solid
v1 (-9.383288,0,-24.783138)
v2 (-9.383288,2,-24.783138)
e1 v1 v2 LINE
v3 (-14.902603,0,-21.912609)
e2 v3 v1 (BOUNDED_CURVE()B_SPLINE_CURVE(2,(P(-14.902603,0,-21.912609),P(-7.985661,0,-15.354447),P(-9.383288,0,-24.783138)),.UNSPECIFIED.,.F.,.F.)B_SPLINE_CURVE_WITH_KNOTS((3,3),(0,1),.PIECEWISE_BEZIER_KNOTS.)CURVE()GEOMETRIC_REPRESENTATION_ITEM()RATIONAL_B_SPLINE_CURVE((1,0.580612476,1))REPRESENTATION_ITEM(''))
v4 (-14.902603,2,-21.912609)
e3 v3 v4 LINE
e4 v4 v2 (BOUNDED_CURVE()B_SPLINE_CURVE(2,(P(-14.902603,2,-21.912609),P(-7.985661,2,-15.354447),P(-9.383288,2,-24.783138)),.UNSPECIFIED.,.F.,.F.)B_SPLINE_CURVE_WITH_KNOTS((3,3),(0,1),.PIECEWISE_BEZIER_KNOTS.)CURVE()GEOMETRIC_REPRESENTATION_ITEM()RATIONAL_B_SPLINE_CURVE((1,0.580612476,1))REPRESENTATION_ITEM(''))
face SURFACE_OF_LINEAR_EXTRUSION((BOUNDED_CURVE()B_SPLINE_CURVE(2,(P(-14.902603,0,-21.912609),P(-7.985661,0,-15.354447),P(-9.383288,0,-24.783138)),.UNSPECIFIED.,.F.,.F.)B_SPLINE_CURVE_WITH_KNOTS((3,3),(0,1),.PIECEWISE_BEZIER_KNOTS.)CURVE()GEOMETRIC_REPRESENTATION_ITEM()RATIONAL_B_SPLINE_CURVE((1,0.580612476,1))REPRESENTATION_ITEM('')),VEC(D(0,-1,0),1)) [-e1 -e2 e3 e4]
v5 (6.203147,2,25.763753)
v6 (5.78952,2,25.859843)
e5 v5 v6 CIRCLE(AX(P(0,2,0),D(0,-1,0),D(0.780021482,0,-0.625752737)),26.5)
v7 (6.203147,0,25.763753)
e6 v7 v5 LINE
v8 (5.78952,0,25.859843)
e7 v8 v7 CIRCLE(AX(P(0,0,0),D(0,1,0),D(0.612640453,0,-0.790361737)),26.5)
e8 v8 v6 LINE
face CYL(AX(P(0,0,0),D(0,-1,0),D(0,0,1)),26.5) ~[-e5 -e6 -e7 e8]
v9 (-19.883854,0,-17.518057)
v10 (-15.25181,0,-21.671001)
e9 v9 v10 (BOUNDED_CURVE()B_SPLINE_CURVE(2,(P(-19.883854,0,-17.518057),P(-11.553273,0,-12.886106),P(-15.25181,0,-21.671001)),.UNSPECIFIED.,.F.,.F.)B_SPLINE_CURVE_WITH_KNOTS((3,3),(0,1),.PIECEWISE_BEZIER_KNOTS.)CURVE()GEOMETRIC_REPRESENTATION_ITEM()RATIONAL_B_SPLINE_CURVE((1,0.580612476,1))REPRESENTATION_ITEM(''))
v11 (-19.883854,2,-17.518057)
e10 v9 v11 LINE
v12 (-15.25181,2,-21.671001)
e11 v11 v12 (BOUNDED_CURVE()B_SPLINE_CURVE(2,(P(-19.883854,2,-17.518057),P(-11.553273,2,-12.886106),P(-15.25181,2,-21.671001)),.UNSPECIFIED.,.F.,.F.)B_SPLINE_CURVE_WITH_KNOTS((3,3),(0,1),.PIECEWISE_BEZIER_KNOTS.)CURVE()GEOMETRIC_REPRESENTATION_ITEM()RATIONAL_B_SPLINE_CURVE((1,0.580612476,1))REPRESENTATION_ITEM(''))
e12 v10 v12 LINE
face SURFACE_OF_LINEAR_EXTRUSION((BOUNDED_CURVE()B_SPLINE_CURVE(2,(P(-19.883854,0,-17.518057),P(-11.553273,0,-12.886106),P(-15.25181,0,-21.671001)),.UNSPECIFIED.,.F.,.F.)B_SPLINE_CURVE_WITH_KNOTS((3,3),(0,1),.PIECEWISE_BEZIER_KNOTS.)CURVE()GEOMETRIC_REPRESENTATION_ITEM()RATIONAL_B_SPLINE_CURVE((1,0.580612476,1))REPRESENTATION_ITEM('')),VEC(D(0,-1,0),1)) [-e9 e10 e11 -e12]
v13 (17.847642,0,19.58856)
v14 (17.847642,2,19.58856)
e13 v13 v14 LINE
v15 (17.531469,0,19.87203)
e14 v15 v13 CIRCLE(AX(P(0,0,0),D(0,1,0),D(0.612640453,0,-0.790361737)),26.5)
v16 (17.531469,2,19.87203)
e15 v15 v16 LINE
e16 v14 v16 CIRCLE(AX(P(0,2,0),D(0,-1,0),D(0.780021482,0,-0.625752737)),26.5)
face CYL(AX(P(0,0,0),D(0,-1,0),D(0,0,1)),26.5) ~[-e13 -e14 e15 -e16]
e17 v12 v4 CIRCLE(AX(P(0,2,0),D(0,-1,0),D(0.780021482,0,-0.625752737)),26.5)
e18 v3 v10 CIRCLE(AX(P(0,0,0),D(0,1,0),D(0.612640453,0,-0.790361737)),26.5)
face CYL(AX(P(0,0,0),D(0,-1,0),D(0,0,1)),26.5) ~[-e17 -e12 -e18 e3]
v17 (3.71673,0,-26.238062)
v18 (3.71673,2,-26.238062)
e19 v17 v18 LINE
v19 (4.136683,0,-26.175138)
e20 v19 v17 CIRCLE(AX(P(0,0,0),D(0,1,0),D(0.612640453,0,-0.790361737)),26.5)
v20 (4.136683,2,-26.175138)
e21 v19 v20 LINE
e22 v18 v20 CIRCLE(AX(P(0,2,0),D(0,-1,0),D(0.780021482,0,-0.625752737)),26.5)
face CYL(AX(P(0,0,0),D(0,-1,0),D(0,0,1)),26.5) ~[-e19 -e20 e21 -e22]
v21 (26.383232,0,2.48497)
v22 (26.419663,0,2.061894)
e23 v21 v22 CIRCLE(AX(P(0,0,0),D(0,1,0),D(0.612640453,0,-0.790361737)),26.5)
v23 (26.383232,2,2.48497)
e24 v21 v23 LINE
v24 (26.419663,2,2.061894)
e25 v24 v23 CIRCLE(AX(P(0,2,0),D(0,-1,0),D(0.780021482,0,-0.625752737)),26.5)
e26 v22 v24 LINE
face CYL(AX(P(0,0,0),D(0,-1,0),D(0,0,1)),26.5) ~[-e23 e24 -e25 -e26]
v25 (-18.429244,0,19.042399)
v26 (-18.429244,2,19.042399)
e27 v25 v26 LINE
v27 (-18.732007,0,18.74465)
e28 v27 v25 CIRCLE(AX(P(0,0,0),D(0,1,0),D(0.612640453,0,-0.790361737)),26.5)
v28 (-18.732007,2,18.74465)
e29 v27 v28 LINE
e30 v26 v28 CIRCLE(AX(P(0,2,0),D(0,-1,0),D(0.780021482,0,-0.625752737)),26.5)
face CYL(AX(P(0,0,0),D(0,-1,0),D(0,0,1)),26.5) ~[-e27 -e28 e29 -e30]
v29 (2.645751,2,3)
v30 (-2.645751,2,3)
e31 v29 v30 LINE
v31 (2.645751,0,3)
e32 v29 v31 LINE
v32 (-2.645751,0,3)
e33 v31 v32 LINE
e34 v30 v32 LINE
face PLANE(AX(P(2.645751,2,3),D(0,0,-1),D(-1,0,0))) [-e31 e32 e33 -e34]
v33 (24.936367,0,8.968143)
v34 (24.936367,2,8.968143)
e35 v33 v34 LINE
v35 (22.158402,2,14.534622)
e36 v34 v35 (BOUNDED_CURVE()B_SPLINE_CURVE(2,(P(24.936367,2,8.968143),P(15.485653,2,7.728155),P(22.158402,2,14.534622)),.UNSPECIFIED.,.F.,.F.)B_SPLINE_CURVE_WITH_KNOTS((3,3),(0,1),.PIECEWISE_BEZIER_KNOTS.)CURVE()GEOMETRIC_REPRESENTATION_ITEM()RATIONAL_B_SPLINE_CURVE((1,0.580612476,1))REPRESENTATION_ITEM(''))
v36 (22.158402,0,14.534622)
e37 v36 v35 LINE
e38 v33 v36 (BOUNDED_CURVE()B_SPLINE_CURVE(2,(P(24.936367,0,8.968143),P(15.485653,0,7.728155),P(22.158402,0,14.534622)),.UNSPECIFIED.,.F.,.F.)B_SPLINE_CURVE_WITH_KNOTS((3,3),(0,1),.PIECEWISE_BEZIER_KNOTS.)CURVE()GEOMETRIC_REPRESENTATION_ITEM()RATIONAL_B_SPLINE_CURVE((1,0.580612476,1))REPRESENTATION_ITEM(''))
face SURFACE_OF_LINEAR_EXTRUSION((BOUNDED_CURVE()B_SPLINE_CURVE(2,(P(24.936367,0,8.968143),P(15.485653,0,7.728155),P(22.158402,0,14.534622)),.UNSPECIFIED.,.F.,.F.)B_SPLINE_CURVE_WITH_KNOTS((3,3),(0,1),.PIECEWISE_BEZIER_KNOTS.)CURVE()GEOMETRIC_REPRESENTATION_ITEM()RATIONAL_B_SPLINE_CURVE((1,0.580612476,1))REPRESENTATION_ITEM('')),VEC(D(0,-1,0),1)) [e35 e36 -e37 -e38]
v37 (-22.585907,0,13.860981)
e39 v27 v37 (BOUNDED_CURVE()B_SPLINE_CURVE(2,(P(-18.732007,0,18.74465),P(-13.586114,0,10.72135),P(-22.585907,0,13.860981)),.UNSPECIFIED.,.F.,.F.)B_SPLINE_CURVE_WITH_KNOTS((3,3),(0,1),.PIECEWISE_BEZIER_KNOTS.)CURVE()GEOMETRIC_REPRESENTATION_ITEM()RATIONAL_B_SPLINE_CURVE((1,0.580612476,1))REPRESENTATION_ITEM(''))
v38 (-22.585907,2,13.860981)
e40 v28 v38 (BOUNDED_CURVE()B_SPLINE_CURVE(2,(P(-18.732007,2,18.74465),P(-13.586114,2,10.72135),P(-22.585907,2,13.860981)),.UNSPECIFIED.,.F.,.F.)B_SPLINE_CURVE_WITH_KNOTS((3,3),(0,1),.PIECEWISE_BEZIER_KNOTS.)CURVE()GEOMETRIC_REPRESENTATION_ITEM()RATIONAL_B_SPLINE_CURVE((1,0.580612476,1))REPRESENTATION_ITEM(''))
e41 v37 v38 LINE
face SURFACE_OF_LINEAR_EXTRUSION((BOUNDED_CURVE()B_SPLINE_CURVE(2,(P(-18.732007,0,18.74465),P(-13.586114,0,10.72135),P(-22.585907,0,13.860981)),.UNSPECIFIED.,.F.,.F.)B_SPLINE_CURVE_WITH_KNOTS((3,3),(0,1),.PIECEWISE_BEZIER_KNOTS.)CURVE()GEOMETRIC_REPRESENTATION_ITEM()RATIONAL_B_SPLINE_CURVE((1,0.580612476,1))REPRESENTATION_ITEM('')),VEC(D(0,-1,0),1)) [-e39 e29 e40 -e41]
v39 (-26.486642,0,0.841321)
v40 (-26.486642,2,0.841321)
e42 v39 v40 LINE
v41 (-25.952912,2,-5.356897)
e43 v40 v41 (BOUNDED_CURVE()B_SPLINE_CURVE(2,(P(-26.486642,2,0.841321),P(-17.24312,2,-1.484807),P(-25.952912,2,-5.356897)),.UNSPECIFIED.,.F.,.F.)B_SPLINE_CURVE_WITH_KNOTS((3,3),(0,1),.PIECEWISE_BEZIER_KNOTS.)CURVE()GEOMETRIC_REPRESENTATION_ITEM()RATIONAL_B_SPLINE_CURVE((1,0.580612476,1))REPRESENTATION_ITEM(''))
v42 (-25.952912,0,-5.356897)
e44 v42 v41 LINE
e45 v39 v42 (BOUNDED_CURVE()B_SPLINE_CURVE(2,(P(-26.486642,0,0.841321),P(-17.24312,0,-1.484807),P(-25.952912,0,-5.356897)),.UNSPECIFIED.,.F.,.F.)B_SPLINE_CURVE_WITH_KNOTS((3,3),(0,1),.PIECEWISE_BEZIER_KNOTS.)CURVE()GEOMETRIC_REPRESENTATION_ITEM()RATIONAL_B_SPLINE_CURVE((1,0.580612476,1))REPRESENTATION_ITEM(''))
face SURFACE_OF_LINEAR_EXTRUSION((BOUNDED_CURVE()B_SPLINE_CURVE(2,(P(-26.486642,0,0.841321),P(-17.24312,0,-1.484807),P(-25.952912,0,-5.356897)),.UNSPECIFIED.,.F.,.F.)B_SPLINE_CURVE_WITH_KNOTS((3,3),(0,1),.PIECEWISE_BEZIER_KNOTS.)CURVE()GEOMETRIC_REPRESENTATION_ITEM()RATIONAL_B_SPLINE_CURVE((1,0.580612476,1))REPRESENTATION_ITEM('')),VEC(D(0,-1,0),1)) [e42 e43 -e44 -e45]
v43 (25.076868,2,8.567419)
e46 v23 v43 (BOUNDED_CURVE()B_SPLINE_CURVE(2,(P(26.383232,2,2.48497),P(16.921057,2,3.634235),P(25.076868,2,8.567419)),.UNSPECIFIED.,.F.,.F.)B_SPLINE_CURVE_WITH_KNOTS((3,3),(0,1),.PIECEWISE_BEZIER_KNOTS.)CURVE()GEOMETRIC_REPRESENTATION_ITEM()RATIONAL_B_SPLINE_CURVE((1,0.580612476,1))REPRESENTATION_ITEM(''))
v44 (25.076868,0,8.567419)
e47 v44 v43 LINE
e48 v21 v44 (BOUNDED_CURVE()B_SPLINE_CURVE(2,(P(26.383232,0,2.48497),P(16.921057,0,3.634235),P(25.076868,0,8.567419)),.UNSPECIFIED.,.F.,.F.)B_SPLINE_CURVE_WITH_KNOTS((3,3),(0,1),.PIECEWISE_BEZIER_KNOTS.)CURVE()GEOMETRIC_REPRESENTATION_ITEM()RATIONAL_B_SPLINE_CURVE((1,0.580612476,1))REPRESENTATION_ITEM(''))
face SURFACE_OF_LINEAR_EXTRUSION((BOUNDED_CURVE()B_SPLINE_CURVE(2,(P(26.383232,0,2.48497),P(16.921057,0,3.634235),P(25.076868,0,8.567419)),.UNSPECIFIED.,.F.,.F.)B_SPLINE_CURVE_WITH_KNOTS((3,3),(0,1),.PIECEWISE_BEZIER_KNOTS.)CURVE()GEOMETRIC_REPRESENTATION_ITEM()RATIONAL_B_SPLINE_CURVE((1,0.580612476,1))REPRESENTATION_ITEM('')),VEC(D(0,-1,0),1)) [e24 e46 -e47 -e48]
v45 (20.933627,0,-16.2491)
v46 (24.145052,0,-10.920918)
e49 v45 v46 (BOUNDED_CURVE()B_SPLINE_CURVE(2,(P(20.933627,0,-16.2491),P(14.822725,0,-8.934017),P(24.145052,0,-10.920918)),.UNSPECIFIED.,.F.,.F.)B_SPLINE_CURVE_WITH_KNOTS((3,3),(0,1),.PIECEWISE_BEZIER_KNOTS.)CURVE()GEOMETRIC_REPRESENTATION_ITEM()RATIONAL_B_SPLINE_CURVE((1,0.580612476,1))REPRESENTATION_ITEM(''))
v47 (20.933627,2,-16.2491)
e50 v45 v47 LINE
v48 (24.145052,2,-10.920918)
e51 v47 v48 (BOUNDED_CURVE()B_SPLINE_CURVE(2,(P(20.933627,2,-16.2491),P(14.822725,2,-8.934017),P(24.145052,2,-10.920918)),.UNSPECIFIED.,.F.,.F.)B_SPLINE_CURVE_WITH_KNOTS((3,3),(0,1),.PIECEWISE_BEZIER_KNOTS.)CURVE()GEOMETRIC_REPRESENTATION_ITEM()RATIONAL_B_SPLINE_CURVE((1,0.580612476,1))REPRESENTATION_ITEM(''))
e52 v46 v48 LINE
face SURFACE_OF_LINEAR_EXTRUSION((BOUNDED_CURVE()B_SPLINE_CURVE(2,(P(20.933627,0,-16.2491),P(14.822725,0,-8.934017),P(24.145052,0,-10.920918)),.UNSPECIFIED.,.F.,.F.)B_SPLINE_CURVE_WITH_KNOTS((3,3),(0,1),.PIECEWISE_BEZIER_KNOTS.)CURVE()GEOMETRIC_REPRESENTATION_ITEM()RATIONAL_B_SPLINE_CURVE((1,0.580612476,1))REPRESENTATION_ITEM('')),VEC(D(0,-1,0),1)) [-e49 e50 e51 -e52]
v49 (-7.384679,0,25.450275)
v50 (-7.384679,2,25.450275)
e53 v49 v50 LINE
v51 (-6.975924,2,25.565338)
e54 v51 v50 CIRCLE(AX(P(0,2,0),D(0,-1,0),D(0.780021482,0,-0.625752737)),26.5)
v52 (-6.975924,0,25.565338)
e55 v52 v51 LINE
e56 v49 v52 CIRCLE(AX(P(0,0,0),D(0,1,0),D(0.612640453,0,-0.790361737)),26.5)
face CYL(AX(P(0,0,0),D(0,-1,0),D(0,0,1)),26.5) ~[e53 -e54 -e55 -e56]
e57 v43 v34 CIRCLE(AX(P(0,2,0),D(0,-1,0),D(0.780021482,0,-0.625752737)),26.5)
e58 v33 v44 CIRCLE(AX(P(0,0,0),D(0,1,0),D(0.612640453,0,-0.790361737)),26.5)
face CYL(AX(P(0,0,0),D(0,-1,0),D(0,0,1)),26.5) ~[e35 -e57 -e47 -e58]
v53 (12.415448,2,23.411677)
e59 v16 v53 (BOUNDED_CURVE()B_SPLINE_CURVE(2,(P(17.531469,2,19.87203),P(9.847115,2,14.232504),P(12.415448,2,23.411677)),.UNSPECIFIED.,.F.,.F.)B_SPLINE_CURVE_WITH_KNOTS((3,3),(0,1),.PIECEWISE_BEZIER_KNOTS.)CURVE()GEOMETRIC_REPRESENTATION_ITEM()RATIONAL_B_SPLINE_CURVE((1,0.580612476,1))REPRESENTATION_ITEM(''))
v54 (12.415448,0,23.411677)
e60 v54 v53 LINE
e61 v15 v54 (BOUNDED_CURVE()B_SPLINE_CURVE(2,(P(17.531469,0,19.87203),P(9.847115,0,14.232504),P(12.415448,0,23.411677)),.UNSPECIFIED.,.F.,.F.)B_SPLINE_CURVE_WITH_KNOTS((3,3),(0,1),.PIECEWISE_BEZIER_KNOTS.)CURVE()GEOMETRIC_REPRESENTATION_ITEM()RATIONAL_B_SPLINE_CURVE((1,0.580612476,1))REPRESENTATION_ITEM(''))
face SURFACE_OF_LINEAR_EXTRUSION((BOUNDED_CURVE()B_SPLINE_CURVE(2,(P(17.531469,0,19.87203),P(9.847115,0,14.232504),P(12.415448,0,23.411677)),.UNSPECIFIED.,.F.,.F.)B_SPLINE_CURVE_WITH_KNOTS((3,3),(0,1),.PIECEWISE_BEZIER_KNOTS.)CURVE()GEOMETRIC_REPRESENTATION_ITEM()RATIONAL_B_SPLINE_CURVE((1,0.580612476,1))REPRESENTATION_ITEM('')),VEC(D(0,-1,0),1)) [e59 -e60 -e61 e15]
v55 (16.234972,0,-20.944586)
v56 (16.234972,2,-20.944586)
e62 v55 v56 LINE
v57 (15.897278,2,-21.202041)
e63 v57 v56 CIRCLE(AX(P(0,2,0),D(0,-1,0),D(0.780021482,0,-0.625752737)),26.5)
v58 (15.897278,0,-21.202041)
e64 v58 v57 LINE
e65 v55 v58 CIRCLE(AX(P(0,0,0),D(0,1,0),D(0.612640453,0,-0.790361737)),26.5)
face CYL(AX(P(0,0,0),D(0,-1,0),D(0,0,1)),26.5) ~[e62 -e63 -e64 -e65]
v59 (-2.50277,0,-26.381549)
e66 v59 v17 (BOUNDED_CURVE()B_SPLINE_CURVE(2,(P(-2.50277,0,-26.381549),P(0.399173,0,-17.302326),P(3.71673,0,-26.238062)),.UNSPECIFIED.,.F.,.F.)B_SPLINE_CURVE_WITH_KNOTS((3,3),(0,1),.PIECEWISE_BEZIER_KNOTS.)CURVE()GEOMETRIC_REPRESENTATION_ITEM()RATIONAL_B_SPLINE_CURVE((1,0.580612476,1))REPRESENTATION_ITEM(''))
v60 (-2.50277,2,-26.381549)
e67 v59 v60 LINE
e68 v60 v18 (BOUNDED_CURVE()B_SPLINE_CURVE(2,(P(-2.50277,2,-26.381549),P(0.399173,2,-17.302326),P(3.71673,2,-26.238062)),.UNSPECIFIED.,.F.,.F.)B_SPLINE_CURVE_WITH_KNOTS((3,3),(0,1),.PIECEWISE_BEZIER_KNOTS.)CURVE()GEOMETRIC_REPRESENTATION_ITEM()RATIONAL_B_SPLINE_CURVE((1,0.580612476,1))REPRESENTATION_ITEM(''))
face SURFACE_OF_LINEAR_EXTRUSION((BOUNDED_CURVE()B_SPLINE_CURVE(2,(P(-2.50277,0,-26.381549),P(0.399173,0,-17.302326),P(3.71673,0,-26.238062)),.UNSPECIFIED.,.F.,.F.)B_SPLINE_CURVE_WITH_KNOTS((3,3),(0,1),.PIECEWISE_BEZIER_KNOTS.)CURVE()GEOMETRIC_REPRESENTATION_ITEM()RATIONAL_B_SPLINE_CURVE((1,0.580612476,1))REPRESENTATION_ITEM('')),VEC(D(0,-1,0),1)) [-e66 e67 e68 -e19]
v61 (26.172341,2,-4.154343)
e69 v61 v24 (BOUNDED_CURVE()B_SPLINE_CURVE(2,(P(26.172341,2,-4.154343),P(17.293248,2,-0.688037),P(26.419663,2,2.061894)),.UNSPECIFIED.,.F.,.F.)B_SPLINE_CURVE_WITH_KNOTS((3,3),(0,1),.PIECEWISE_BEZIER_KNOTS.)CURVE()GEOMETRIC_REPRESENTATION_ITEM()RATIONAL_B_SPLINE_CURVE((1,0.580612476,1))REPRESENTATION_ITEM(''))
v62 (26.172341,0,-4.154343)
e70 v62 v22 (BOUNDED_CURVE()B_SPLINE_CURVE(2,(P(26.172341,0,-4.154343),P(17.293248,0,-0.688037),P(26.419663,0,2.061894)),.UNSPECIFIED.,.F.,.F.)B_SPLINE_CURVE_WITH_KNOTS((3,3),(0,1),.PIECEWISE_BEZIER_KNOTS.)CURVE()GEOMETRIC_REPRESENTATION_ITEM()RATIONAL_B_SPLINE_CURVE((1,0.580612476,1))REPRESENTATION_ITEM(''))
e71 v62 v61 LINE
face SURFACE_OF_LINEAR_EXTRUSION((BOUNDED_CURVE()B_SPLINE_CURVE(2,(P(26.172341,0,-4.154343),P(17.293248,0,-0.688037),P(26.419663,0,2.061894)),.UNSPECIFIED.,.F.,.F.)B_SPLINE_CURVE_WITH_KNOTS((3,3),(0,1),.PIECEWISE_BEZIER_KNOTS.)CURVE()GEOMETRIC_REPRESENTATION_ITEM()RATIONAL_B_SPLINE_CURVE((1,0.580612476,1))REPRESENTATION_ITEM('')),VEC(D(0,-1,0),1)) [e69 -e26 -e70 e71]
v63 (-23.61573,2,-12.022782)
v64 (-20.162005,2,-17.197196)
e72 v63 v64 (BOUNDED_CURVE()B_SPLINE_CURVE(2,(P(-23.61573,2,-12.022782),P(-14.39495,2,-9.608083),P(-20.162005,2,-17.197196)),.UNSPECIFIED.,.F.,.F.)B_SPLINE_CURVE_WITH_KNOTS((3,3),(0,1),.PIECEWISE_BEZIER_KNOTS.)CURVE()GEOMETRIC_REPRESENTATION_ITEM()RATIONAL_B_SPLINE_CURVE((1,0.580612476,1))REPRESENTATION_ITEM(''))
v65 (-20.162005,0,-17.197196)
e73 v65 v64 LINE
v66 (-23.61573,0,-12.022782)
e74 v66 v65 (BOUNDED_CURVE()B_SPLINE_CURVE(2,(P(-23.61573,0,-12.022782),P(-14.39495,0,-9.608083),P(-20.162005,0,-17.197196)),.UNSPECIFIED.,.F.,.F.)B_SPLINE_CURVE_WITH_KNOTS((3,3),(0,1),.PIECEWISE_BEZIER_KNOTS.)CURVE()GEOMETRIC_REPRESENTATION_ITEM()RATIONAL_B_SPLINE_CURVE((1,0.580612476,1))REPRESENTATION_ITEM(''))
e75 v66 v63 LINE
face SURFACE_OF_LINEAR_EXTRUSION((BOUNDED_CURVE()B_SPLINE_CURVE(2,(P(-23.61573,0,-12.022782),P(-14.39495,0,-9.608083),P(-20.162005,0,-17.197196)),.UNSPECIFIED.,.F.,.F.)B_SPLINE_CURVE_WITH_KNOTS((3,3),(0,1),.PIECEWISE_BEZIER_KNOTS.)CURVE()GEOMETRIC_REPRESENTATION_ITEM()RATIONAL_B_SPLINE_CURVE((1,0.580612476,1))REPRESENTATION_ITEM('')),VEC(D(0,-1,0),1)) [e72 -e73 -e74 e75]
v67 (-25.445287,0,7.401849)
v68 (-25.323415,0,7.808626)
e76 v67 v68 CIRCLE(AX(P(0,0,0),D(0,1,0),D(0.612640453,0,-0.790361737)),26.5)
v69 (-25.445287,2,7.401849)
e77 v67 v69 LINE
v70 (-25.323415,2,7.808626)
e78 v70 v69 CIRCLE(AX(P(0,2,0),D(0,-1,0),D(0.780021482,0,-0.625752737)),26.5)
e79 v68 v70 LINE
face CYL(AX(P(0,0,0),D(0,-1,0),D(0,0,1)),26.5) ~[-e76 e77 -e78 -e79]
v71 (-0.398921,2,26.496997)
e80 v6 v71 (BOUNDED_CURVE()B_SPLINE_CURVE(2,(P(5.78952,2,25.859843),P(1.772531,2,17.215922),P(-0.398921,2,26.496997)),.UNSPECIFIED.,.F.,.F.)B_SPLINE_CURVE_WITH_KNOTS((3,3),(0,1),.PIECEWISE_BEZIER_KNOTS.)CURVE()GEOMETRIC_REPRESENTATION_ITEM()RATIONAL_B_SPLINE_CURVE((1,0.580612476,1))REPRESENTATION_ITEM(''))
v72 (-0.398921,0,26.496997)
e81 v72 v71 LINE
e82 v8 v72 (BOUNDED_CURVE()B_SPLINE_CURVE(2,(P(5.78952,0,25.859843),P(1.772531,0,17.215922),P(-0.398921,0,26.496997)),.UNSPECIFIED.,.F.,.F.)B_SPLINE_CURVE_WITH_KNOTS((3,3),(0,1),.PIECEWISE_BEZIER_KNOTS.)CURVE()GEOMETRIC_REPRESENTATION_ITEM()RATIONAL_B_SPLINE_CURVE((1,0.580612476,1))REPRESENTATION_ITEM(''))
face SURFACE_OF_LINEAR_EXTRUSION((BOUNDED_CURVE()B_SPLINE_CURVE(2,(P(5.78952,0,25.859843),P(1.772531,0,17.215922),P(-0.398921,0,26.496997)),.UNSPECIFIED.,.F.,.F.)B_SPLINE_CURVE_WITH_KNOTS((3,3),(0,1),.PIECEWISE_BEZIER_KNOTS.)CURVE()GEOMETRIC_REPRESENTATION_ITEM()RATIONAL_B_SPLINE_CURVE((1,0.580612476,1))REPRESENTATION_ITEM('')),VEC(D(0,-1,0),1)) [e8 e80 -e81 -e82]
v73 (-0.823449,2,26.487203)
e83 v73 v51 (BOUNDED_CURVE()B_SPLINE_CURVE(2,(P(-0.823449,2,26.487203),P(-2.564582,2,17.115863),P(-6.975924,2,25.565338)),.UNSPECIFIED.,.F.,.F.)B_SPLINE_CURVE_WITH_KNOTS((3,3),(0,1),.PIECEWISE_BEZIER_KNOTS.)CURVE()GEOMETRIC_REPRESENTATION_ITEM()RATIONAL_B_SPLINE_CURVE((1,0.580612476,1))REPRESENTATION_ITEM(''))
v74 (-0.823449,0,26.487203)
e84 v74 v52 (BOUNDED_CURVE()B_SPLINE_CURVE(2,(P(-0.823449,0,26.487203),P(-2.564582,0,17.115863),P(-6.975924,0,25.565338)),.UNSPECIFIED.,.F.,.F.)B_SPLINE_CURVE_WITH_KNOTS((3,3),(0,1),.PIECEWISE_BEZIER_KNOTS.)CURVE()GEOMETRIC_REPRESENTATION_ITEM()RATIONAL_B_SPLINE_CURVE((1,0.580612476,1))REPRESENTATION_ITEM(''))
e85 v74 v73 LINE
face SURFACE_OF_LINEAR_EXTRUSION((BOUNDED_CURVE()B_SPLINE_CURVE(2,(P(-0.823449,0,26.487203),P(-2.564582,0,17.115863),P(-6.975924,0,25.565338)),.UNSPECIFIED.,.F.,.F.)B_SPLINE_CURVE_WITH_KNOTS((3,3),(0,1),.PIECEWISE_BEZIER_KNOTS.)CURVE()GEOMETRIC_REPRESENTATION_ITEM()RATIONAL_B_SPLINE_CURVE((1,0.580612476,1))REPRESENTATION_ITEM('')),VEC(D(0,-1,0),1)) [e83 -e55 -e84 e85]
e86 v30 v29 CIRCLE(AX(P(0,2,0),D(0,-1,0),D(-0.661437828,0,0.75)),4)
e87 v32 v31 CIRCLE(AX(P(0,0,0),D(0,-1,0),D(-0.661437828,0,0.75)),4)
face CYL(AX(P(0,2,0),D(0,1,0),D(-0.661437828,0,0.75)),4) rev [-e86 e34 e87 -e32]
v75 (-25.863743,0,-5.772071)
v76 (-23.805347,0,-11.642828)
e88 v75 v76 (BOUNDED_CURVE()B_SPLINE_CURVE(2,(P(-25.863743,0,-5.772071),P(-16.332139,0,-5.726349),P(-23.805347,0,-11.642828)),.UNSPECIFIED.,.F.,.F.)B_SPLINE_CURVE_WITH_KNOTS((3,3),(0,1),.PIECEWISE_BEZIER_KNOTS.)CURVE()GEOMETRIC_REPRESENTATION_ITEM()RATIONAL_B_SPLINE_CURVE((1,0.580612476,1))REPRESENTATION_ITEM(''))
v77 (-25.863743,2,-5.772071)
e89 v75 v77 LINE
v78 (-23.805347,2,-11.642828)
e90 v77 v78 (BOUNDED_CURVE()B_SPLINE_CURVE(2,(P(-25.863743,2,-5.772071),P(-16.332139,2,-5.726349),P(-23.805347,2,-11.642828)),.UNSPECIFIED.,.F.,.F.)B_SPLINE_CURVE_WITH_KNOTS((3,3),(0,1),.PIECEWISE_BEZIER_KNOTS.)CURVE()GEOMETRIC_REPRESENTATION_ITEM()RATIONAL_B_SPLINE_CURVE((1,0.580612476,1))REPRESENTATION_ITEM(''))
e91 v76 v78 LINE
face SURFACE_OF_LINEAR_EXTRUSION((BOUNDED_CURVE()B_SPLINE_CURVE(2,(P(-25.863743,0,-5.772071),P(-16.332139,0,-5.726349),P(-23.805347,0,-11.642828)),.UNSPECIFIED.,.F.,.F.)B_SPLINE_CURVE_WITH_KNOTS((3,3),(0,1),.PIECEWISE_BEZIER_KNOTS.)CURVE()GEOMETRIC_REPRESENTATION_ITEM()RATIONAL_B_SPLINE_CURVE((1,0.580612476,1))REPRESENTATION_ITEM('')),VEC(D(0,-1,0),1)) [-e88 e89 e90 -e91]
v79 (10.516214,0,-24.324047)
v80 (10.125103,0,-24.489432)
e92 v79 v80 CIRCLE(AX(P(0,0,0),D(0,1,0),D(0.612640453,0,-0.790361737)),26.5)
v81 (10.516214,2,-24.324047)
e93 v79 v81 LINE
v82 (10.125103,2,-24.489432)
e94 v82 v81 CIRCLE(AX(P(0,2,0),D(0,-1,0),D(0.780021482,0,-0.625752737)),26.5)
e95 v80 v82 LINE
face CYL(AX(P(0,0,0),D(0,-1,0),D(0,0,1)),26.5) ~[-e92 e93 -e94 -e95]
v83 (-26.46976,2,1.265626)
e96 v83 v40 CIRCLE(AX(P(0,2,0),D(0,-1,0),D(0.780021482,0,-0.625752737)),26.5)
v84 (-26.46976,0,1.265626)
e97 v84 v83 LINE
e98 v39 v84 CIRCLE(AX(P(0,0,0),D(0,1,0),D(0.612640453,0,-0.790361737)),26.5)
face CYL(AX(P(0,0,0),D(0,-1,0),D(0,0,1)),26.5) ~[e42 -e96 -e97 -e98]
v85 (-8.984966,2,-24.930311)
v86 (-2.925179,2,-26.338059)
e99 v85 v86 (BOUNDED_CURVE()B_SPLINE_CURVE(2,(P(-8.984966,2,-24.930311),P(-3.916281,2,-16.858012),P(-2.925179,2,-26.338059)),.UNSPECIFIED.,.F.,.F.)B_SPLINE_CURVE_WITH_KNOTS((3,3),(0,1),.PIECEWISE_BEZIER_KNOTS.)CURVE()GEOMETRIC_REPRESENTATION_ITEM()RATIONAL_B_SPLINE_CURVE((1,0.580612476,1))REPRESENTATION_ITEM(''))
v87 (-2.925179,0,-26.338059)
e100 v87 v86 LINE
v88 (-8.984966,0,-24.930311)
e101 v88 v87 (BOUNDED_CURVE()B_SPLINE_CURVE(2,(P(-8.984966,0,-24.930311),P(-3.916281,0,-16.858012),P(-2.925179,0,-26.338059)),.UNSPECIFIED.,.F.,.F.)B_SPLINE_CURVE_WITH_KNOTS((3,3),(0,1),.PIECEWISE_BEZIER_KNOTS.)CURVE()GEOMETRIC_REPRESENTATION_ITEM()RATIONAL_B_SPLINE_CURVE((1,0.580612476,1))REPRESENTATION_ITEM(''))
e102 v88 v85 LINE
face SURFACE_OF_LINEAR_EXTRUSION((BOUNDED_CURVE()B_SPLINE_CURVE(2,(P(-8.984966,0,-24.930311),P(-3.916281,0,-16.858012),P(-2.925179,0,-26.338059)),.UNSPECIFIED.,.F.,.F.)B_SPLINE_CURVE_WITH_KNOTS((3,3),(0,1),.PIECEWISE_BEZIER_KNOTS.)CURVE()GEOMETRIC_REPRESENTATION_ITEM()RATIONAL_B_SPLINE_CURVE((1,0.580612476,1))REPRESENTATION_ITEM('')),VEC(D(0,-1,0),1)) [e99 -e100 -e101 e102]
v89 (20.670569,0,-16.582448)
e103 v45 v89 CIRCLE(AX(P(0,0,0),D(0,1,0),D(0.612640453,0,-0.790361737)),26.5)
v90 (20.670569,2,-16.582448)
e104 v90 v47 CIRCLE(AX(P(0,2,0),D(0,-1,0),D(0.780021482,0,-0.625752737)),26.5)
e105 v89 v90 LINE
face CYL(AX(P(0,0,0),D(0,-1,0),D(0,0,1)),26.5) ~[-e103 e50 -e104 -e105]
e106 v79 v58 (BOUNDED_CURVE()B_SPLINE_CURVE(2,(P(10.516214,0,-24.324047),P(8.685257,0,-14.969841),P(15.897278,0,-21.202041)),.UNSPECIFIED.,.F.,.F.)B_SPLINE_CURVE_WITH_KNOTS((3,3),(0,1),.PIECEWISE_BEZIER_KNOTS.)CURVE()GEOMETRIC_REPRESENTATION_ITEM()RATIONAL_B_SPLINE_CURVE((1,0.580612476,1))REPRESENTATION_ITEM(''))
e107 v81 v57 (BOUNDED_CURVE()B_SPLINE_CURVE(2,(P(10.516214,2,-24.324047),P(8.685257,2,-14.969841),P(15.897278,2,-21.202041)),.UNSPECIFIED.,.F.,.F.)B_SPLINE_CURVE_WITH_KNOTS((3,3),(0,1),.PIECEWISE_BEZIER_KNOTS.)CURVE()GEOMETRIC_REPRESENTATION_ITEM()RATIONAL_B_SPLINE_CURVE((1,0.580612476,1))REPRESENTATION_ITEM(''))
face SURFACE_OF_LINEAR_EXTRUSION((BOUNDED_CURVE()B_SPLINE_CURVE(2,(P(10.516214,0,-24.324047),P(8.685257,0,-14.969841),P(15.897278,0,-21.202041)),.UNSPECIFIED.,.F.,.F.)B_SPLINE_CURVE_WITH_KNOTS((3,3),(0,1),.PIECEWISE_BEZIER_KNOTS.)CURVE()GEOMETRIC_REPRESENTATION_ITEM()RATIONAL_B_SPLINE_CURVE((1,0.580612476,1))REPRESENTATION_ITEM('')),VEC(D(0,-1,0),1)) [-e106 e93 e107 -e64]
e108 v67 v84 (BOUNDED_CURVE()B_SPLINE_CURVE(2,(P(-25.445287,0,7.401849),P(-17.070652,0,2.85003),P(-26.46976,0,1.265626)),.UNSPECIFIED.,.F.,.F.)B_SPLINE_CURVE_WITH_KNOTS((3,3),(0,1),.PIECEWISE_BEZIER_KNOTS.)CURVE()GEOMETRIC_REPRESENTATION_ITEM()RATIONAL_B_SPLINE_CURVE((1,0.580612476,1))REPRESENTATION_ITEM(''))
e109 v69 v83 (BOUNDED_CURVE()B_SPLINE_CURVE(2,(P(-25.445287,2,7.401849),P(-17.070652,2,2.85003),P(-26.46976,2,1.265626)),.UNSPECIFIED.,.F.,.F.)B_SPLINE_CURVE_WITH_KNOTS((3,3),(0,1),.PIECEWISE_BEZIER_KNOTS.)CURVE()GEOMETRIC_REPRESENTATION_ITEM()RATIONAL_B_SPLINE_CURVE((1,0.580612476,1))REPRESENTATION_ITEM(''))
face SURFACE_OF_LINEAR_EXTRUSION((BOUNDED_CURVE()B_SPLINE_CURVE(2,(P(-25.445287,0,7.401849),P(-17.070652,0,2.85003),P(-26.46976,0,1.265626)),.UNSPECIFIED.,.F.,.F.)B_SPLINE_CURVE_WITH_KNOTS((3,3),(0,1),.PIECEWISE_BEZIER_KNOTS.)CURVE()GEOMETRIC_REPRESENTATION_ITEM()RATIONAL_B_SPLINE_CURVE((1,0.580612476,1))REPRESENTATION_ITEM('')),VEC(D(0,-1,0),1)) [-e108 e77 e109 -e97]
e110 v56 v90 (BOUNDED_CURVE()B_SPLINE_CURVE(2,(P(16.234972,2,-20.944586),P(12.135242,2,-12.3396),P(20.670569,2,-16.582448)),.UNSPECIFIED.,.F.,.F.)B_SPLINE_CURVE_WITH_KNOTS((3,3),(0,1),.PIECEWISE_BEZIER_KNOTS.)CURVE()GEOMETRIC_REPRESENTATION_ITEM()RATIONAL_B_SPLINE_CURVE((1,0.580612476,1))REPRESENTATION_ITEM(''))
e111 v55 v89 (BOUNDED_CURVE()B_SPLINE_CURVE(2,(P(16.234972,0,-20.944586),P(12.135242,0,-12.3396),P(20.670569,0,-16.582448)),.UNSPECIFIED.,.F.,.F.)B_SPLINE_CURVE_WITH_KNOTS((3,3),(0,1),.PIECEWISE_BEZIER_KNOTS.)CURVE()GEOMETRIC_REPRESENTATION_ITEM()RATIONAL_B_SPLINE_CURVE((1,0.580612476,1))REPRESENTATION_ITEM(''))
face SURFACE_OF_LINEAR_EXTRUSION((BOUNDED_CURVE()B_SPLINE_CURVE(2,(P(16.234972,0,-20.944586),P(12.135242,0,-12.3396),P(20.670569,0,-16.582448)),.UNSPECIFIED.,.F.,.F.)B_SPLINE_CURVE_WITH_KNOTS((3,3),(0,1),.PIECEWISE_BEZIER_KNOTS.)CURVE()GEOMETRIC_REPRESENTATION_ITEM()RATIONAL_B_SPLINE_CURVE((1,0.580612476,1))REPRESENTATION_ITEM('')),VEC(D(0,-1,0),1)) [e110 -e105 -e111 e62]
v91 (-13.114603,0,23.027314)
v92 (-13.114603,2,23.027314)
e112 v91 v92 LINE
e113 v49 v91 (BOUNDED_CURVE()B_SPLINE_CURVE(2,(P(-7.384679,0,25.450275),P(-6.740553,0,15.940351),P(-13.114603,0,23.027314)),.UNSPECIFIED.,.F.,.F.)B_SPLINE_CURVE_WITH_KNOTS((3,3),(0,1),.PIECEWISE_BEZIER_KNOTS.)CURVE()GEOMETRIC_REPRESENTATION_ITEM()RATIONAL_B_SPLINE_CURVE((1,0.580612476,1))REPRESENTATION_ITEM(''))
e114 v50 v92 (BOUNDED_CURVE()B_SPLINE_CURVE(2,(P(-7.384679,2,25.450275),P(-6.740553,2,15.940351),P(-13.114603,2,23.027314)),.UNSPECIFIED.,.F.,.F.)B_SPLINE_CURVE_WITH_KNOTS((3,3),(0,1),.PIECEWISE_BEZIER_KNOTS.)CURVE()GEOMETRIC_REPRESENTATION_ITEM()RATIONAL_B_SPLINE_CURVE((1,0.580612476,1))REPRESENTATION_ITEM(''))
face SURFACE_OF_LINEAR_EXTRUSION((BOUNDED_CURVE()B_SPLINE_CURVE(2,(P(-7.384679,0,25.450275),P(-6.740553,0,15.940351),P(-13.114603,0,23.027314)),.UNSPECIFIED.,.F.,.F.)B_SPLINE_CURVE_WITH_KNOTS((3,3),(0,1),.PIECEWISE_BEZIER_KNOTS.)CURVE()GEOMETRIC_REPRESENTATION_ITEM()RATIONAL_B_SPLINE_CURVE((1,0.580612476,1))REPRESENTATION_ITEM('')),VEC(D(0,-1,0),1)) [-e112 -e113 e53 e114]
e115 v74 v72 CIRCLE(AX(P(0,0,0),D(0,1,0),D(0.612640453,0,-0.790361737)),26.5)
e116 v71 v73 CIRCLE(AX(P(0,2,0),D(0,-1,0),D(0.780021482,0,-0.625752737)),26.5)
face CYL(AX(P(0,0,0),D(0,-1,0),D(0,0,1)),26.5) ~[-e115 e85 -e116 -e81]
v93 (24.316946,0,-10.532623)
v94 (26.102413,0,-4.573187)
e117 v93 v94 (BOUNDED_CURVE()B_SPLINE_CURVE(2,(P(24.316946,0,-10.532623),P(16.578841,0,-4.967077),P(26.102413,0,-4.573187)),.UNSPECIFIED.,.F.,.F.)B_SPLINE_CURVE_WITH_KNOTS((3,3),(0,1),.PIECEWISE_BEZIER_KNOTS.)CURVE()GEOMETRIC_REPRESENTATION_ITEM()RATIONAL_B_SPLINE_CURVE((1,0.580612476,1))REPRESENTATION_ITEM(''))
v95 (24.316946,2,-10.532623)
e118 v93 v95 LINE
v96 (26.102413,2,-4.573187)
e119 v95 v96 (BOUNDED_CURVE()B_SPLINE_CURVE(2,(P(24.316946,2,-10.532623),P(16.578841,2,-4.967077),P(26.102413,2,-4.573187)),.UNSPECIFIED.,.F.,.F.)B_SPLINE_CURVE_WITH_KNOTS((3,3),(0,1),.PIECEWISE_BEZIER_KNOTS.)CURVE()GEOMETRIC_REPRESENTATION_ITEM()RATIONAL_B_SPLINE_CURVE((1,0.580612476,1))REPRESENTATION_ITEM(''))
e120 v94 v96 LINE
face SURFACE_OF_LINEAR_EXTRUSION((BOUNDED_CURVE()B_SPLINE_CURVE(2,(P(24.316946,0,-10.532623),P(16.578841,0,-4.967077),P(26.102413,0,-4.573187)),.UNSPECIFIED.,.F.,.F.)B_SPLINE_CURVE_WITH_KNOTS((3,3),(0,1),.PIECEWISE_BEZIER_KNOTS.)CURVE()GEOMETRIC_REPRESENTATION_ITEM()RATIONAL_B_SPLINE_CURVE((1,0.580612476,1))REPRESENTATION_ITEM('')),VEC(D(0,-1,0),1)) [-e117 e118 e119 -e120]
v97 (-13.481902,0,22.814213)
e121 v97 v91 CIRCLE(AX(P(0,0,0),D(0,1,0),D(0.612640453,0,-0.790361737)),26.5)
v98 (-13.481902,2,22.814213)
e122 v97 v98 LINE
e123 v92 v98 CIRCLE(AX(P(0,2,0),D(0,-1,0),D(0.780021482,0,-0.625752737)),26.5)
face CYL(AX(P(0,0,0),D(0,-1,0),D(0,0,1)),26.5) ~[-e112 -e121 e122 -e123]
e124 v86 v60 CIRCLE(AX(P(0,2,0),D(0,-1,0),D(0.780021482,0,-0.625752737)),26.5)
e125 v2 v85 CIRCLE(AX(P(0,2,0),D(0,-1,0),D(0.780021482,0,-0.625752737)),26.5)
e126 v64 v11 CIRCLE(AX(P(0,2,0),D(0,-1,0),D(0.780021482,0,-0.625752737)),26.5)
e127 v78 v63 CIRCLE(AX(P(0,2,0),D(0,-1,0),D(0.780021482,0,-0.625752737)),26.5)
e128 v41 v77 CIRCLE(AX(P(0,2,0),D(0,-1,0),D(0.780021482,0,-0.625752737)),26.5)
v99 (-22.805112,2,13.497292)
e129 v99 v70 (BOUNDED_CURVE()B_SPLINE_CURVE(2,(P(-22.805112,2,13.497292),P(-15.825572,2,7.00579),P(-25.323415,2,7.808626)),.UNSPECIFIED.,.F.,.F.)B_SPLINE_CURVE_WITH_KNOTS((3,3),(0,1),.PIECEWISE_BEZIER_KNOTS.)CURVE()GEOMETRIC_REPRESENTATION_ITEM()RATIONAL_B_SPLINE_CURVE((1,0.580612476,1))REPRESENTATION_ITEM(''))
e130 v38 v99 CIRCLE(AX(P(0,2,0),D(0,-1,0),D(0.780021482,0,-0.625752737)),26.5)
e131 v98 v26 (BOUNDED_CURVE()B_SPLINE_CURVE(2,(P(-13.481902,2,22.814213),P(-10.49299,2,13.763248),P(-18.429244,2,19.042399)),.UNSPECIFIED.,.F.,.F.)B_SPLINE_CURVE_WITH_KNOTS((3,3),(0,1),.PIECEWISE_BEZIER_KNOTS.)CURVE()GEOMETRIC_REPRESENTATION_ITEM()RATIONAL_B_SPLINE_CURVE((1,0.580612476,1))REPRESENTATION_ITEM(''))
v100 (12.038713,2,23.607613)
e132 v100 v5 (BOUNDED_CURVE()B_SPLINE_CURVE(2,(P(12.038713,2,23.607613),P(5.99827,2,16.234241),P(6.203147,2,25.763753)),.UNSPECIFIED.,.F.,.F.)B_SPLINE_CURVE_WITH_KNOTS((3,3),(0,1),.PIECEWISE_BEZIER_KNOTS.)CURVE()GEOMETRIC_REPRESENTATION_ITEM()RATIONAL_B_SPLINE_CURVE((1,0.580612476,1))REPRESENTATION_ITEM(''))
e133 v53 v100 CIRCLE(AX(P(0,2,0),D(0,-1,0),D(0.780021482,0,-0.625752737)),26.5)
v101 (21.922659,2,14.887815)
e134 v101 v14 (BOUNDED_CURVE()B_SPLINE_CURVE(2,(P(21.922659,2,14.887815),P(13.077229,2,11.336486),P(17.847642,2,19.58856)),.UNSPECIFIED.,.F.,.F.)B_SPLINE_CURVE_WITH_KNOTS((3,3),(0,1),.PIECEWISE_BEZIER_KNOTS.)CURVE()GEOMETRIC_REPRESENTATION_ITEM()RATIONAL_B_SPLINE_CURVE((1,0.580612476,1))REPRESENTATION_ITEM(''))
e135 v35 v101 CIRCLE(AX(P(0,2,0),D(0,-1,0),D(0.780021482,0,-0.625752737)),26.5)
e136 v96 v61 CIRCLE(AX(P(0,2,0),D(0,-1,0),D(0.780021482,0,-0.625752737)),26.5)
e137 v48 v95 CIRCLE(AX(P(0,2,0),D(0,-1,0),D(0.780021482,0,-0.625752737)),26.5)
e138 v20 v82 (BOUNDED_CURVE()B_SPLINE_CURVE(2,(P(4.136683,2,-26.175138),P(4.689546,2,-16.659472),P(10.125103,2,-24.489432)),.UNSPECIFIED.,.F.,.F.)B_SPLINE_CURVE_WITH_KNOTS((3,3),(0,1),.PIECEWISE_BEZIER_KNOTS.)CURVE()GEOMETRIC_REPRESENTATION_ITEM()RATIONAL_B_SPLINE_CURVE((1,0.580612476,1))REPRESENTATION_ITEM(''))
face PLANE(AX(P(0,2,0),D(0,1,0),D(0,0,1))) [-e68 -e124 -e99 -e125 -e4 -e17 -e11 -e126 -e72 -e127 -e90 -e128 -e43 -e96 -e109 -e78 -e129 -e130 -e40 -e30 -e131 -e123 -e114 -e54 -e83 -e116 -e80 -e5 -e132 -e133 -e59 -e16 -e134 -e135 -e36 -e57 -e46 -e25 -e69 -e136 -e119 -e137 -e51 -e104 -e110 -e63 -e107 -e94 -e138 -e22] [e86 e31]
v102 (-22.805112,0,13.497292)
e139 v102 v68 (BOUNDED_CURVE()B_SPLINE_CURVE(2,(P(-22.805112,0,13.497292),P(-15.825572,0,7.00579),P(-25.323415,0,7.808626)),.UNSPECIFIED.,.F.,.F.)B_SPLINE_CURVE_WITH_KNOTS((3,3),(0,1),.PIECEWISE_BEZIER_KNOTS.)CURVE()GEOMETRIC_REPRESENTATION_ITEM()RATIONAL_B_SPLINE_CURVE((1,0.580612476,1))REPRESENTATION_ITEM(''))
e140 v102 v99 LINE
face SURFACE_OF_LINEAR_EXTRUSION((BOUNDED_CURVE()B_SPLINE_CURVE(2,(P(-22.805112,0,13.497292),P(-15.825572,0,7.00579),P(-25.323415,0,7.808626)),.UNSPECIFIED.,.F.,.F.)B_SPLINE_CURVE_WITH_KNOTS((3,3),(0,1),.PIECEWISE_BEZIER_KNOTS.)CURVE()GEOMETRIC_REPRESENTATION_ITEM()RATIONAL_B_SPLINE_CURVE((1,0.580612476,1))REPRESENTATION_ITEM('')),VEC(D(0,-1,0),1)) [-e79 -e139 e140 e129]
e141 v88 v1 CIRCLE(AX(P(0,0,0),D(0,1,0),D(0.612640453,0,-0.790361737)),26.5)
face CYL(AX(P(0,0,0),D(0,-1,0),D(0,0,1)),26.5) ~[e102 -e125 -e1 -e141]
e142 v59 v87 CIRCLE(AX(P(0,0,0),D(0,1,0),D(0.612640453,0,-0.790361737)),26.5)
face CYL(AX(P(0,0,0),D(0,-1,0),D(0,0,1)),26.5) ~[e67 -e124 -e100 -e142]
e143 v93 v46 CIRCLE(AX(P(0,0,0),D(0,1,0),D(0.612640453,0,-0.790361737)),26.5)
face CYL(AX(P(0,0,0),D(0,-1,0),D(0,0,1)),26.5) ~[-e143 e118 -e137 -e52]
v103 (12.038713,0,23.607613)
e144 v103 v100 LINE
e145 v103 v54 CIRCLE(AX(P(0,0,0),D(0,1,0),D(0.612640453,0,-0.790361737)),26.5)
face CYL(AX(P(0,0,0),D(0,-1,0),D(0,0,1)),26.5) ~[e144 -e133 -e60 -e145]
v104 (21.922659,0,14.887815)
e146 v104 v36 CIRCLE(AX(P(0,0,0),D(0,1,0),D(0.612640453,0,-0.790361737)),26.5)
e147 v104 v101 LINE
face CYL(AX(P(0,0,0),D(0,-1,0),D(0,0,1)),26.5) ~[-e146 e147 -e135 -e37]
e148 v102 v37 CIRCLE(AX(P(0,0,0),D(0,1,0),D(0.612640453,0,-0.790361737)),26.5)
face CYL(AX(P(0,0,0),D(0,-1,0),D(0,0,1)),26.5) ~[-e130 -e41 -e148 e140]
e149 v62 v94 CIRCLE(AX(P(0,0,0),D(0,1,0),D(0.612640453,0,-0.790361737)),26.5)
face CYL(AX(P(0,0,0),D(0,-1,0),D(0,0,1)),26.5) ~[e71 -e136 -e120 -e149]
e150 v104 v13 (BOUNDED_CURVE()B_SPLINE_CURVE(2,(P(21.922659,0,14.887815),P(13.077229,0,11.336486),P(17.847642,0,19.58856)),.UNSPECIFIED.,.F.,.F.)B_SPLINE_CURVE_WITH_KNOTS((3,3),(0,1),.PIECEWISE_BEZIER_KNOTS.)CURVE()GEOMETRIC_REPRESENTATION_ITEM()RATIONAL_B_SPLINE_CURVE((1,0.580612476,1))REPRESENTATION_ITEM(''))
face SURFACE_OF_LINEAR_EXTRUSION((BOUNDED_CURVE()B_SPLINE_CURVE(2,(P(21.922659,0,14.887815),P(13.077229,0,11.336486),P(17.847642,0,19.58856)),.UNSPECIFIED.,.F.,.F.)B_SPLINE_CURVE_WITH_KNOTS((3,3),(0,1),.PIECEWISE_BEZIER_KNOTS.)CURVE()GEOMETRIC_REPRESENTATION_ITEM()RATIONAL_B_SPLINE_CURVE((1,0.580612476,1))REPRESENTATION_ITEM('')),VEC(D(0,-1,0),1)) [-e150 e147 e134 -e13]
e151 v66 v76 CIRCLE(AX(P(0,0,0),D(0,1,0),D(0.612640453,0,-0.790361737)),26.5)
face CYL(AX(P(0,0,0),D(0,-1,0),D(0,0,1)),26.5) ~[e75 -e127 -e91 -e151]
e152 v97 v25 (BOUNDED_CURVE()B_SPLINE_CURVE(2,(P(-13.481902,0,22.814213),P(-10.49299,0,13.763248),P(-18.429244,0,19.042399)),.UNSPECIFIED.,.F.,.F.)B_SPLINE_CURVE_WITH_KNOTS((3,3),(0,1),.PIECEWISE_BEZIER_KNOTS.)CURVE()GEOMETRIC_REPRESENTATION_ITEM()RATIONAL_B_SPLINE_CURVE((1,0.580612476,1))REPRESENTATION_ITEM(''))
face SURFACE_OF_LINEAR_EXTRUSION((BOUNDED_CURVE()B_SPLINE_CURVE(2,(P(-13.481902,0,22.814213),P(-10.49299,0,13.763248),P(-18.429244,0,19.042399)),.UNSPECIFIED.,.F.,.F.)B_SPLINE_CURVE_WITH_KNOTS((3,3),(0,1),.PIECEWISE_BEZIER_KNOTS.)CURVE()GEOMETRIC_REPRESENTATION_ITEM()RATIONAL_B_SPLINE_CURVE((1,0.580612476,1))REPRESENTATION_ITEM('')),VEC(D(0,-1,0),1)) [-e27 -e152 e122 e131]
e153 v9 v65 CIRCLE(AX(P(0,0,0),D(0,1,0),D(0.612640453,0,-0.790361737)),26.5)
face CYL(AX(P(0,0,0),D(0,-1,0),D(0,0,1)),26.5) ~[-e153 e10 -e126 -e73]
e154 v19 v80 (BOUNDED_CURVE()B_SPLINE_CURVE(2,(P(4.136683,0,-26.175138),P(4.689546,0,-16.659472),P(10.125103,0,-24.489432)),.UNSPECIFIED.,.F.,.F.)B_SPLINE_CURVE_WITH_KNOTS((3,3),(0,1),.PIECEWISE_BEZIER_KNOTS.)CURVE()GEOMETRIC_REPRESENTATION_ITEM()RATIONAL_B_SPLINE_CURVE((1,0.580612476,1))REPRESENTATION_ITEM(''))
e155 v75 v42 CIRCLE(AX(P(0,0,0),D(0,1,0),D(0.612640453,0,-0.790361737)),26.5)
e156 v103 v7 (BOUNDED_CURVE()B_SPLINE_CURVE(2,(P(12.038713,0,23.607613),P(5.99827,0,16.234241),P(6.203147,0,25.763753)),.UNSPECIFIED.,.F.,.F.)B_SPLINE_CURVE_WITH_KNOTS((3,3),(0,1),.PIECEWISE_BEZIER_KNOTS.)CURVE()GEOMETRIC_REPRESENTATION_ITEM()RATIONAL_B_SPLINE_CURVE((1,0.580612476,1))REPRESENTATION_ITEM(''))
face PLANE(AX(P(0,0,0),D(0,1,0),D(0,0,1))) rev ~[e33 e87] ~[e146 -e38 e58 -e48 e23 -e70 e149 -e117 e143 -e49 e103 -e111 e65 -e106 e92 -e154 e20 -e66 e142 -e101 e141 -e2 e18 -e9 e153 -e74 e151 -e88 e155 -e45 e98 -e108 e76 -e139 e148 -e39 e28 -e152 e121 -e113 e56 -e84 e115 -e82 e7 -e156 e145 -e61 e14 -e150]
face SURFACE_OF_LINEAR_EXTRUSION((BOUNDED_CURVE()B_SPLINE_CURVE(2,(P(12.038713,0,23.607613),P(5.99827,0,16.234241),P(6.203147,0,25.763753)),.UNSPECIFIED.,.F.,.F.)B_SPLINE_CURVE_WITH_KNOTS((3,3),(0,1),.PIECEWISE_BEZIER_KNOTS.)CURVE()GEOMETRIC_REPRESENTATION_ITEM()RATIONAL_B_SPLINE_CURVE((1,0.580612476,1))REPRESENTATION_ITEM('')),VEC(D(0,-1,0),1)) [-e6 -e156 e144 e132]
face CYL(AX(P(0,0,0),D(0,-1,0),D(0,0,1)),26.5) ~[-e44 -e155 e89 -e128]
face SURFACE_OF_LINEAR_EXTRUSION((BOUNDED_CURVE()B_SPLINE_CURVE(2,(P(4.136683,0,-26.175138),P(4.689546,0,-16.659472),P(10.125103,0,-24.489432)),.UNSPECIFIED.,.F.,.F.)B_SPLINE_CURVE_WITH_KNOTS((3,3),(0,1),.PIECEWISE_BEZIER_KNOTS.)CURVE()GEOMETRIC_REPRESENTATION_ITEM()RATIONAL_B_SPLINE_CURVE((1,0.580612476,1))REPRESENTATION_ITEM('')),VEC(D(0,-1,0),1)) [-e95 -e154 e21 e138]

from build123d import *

# Parameters (mm, degrees)
SKETCH1_R           = 26.5
BOSS_EXTRUDE1_DEPTH = 2
CUT_EXTRUDE1_START  = -2
CUT_EXTRUDE1_DEPTH  = 2
CIRPATTERN2_COUNT   = 25
CUT_EXTRUDE2_DEPTH  = 2


with BuildPart() as part:
    # Sketch1 → Boss-Extrude1 (new body)
    with BuildSketch(Plane(origin=(0, 0, 0), x_dir=(1, 0, 0), z_dir=(0, 1, 0))):
        with Locations(Location((0, 0, 0), (0, 0, 270))):
            Circle(SKETCH1_R)
    extrude(amount=BOSS_EXTRUDE1_DEPTH)

    # Sketch2 → Cut-Extrude1 (cut)
    with BuildSketch(Plane(origin=(0, 2, 0), x_dir=(1, 0, 0), z_dir=(0, 1, 0)).offset(CUT_EXTRUDE1_START)):
        with BuildLine():
            ThreePointArc((20.67056927, 16.582447529), (18.581221902, 18.894131169), (16.234972011, 20.944586026))
            add(Edge.make_bspline(
                [(16.234972011, 20.944586026), (12.135241932, 12.33960038), (20.67056927, 16.582447529)],
                knots=[0, 0, 0, 1, 1, 1], degree=2, weights=[1, 0.580612476, 1]))
        make_face()
    cut_extrude1 = extrude(amount=CUT_EXTRUDE1_DEPTH, mode=Mode.SUBTRACT)

    # CirPattern2: Cut-Extrude1 ×25 about axis
    cirpattern2_axis = Axis((0, 2, 0), (0, -1, 0))
    for i in range(1, CIRPATTERN2_COUNT):
        add(cut_extrude1.rotate(cirpattern2_axis, i * 360 / CIRPATTERN2_COUNT), mode=Mode.SUBTRACT)

    # Sketch4 → Cut-Extrude2 (cut)
    with BuildSketch(Plane(origin=(0, 2, 0), x_dir=(1, 0, 0), z_dir=(0, 1, 0))):
        with BuildLine():
            Line((2.645751311, -3), (-2.645751311, -3))
            ThreePointArc((-2.645751311, -3), (0, 4), (2.645751311, -3))
        make_face()
    extrude(amount=-CUT_EXTRUDE2_DEPTH, mode=Mode.SUBTRACT)


solid = part.part
